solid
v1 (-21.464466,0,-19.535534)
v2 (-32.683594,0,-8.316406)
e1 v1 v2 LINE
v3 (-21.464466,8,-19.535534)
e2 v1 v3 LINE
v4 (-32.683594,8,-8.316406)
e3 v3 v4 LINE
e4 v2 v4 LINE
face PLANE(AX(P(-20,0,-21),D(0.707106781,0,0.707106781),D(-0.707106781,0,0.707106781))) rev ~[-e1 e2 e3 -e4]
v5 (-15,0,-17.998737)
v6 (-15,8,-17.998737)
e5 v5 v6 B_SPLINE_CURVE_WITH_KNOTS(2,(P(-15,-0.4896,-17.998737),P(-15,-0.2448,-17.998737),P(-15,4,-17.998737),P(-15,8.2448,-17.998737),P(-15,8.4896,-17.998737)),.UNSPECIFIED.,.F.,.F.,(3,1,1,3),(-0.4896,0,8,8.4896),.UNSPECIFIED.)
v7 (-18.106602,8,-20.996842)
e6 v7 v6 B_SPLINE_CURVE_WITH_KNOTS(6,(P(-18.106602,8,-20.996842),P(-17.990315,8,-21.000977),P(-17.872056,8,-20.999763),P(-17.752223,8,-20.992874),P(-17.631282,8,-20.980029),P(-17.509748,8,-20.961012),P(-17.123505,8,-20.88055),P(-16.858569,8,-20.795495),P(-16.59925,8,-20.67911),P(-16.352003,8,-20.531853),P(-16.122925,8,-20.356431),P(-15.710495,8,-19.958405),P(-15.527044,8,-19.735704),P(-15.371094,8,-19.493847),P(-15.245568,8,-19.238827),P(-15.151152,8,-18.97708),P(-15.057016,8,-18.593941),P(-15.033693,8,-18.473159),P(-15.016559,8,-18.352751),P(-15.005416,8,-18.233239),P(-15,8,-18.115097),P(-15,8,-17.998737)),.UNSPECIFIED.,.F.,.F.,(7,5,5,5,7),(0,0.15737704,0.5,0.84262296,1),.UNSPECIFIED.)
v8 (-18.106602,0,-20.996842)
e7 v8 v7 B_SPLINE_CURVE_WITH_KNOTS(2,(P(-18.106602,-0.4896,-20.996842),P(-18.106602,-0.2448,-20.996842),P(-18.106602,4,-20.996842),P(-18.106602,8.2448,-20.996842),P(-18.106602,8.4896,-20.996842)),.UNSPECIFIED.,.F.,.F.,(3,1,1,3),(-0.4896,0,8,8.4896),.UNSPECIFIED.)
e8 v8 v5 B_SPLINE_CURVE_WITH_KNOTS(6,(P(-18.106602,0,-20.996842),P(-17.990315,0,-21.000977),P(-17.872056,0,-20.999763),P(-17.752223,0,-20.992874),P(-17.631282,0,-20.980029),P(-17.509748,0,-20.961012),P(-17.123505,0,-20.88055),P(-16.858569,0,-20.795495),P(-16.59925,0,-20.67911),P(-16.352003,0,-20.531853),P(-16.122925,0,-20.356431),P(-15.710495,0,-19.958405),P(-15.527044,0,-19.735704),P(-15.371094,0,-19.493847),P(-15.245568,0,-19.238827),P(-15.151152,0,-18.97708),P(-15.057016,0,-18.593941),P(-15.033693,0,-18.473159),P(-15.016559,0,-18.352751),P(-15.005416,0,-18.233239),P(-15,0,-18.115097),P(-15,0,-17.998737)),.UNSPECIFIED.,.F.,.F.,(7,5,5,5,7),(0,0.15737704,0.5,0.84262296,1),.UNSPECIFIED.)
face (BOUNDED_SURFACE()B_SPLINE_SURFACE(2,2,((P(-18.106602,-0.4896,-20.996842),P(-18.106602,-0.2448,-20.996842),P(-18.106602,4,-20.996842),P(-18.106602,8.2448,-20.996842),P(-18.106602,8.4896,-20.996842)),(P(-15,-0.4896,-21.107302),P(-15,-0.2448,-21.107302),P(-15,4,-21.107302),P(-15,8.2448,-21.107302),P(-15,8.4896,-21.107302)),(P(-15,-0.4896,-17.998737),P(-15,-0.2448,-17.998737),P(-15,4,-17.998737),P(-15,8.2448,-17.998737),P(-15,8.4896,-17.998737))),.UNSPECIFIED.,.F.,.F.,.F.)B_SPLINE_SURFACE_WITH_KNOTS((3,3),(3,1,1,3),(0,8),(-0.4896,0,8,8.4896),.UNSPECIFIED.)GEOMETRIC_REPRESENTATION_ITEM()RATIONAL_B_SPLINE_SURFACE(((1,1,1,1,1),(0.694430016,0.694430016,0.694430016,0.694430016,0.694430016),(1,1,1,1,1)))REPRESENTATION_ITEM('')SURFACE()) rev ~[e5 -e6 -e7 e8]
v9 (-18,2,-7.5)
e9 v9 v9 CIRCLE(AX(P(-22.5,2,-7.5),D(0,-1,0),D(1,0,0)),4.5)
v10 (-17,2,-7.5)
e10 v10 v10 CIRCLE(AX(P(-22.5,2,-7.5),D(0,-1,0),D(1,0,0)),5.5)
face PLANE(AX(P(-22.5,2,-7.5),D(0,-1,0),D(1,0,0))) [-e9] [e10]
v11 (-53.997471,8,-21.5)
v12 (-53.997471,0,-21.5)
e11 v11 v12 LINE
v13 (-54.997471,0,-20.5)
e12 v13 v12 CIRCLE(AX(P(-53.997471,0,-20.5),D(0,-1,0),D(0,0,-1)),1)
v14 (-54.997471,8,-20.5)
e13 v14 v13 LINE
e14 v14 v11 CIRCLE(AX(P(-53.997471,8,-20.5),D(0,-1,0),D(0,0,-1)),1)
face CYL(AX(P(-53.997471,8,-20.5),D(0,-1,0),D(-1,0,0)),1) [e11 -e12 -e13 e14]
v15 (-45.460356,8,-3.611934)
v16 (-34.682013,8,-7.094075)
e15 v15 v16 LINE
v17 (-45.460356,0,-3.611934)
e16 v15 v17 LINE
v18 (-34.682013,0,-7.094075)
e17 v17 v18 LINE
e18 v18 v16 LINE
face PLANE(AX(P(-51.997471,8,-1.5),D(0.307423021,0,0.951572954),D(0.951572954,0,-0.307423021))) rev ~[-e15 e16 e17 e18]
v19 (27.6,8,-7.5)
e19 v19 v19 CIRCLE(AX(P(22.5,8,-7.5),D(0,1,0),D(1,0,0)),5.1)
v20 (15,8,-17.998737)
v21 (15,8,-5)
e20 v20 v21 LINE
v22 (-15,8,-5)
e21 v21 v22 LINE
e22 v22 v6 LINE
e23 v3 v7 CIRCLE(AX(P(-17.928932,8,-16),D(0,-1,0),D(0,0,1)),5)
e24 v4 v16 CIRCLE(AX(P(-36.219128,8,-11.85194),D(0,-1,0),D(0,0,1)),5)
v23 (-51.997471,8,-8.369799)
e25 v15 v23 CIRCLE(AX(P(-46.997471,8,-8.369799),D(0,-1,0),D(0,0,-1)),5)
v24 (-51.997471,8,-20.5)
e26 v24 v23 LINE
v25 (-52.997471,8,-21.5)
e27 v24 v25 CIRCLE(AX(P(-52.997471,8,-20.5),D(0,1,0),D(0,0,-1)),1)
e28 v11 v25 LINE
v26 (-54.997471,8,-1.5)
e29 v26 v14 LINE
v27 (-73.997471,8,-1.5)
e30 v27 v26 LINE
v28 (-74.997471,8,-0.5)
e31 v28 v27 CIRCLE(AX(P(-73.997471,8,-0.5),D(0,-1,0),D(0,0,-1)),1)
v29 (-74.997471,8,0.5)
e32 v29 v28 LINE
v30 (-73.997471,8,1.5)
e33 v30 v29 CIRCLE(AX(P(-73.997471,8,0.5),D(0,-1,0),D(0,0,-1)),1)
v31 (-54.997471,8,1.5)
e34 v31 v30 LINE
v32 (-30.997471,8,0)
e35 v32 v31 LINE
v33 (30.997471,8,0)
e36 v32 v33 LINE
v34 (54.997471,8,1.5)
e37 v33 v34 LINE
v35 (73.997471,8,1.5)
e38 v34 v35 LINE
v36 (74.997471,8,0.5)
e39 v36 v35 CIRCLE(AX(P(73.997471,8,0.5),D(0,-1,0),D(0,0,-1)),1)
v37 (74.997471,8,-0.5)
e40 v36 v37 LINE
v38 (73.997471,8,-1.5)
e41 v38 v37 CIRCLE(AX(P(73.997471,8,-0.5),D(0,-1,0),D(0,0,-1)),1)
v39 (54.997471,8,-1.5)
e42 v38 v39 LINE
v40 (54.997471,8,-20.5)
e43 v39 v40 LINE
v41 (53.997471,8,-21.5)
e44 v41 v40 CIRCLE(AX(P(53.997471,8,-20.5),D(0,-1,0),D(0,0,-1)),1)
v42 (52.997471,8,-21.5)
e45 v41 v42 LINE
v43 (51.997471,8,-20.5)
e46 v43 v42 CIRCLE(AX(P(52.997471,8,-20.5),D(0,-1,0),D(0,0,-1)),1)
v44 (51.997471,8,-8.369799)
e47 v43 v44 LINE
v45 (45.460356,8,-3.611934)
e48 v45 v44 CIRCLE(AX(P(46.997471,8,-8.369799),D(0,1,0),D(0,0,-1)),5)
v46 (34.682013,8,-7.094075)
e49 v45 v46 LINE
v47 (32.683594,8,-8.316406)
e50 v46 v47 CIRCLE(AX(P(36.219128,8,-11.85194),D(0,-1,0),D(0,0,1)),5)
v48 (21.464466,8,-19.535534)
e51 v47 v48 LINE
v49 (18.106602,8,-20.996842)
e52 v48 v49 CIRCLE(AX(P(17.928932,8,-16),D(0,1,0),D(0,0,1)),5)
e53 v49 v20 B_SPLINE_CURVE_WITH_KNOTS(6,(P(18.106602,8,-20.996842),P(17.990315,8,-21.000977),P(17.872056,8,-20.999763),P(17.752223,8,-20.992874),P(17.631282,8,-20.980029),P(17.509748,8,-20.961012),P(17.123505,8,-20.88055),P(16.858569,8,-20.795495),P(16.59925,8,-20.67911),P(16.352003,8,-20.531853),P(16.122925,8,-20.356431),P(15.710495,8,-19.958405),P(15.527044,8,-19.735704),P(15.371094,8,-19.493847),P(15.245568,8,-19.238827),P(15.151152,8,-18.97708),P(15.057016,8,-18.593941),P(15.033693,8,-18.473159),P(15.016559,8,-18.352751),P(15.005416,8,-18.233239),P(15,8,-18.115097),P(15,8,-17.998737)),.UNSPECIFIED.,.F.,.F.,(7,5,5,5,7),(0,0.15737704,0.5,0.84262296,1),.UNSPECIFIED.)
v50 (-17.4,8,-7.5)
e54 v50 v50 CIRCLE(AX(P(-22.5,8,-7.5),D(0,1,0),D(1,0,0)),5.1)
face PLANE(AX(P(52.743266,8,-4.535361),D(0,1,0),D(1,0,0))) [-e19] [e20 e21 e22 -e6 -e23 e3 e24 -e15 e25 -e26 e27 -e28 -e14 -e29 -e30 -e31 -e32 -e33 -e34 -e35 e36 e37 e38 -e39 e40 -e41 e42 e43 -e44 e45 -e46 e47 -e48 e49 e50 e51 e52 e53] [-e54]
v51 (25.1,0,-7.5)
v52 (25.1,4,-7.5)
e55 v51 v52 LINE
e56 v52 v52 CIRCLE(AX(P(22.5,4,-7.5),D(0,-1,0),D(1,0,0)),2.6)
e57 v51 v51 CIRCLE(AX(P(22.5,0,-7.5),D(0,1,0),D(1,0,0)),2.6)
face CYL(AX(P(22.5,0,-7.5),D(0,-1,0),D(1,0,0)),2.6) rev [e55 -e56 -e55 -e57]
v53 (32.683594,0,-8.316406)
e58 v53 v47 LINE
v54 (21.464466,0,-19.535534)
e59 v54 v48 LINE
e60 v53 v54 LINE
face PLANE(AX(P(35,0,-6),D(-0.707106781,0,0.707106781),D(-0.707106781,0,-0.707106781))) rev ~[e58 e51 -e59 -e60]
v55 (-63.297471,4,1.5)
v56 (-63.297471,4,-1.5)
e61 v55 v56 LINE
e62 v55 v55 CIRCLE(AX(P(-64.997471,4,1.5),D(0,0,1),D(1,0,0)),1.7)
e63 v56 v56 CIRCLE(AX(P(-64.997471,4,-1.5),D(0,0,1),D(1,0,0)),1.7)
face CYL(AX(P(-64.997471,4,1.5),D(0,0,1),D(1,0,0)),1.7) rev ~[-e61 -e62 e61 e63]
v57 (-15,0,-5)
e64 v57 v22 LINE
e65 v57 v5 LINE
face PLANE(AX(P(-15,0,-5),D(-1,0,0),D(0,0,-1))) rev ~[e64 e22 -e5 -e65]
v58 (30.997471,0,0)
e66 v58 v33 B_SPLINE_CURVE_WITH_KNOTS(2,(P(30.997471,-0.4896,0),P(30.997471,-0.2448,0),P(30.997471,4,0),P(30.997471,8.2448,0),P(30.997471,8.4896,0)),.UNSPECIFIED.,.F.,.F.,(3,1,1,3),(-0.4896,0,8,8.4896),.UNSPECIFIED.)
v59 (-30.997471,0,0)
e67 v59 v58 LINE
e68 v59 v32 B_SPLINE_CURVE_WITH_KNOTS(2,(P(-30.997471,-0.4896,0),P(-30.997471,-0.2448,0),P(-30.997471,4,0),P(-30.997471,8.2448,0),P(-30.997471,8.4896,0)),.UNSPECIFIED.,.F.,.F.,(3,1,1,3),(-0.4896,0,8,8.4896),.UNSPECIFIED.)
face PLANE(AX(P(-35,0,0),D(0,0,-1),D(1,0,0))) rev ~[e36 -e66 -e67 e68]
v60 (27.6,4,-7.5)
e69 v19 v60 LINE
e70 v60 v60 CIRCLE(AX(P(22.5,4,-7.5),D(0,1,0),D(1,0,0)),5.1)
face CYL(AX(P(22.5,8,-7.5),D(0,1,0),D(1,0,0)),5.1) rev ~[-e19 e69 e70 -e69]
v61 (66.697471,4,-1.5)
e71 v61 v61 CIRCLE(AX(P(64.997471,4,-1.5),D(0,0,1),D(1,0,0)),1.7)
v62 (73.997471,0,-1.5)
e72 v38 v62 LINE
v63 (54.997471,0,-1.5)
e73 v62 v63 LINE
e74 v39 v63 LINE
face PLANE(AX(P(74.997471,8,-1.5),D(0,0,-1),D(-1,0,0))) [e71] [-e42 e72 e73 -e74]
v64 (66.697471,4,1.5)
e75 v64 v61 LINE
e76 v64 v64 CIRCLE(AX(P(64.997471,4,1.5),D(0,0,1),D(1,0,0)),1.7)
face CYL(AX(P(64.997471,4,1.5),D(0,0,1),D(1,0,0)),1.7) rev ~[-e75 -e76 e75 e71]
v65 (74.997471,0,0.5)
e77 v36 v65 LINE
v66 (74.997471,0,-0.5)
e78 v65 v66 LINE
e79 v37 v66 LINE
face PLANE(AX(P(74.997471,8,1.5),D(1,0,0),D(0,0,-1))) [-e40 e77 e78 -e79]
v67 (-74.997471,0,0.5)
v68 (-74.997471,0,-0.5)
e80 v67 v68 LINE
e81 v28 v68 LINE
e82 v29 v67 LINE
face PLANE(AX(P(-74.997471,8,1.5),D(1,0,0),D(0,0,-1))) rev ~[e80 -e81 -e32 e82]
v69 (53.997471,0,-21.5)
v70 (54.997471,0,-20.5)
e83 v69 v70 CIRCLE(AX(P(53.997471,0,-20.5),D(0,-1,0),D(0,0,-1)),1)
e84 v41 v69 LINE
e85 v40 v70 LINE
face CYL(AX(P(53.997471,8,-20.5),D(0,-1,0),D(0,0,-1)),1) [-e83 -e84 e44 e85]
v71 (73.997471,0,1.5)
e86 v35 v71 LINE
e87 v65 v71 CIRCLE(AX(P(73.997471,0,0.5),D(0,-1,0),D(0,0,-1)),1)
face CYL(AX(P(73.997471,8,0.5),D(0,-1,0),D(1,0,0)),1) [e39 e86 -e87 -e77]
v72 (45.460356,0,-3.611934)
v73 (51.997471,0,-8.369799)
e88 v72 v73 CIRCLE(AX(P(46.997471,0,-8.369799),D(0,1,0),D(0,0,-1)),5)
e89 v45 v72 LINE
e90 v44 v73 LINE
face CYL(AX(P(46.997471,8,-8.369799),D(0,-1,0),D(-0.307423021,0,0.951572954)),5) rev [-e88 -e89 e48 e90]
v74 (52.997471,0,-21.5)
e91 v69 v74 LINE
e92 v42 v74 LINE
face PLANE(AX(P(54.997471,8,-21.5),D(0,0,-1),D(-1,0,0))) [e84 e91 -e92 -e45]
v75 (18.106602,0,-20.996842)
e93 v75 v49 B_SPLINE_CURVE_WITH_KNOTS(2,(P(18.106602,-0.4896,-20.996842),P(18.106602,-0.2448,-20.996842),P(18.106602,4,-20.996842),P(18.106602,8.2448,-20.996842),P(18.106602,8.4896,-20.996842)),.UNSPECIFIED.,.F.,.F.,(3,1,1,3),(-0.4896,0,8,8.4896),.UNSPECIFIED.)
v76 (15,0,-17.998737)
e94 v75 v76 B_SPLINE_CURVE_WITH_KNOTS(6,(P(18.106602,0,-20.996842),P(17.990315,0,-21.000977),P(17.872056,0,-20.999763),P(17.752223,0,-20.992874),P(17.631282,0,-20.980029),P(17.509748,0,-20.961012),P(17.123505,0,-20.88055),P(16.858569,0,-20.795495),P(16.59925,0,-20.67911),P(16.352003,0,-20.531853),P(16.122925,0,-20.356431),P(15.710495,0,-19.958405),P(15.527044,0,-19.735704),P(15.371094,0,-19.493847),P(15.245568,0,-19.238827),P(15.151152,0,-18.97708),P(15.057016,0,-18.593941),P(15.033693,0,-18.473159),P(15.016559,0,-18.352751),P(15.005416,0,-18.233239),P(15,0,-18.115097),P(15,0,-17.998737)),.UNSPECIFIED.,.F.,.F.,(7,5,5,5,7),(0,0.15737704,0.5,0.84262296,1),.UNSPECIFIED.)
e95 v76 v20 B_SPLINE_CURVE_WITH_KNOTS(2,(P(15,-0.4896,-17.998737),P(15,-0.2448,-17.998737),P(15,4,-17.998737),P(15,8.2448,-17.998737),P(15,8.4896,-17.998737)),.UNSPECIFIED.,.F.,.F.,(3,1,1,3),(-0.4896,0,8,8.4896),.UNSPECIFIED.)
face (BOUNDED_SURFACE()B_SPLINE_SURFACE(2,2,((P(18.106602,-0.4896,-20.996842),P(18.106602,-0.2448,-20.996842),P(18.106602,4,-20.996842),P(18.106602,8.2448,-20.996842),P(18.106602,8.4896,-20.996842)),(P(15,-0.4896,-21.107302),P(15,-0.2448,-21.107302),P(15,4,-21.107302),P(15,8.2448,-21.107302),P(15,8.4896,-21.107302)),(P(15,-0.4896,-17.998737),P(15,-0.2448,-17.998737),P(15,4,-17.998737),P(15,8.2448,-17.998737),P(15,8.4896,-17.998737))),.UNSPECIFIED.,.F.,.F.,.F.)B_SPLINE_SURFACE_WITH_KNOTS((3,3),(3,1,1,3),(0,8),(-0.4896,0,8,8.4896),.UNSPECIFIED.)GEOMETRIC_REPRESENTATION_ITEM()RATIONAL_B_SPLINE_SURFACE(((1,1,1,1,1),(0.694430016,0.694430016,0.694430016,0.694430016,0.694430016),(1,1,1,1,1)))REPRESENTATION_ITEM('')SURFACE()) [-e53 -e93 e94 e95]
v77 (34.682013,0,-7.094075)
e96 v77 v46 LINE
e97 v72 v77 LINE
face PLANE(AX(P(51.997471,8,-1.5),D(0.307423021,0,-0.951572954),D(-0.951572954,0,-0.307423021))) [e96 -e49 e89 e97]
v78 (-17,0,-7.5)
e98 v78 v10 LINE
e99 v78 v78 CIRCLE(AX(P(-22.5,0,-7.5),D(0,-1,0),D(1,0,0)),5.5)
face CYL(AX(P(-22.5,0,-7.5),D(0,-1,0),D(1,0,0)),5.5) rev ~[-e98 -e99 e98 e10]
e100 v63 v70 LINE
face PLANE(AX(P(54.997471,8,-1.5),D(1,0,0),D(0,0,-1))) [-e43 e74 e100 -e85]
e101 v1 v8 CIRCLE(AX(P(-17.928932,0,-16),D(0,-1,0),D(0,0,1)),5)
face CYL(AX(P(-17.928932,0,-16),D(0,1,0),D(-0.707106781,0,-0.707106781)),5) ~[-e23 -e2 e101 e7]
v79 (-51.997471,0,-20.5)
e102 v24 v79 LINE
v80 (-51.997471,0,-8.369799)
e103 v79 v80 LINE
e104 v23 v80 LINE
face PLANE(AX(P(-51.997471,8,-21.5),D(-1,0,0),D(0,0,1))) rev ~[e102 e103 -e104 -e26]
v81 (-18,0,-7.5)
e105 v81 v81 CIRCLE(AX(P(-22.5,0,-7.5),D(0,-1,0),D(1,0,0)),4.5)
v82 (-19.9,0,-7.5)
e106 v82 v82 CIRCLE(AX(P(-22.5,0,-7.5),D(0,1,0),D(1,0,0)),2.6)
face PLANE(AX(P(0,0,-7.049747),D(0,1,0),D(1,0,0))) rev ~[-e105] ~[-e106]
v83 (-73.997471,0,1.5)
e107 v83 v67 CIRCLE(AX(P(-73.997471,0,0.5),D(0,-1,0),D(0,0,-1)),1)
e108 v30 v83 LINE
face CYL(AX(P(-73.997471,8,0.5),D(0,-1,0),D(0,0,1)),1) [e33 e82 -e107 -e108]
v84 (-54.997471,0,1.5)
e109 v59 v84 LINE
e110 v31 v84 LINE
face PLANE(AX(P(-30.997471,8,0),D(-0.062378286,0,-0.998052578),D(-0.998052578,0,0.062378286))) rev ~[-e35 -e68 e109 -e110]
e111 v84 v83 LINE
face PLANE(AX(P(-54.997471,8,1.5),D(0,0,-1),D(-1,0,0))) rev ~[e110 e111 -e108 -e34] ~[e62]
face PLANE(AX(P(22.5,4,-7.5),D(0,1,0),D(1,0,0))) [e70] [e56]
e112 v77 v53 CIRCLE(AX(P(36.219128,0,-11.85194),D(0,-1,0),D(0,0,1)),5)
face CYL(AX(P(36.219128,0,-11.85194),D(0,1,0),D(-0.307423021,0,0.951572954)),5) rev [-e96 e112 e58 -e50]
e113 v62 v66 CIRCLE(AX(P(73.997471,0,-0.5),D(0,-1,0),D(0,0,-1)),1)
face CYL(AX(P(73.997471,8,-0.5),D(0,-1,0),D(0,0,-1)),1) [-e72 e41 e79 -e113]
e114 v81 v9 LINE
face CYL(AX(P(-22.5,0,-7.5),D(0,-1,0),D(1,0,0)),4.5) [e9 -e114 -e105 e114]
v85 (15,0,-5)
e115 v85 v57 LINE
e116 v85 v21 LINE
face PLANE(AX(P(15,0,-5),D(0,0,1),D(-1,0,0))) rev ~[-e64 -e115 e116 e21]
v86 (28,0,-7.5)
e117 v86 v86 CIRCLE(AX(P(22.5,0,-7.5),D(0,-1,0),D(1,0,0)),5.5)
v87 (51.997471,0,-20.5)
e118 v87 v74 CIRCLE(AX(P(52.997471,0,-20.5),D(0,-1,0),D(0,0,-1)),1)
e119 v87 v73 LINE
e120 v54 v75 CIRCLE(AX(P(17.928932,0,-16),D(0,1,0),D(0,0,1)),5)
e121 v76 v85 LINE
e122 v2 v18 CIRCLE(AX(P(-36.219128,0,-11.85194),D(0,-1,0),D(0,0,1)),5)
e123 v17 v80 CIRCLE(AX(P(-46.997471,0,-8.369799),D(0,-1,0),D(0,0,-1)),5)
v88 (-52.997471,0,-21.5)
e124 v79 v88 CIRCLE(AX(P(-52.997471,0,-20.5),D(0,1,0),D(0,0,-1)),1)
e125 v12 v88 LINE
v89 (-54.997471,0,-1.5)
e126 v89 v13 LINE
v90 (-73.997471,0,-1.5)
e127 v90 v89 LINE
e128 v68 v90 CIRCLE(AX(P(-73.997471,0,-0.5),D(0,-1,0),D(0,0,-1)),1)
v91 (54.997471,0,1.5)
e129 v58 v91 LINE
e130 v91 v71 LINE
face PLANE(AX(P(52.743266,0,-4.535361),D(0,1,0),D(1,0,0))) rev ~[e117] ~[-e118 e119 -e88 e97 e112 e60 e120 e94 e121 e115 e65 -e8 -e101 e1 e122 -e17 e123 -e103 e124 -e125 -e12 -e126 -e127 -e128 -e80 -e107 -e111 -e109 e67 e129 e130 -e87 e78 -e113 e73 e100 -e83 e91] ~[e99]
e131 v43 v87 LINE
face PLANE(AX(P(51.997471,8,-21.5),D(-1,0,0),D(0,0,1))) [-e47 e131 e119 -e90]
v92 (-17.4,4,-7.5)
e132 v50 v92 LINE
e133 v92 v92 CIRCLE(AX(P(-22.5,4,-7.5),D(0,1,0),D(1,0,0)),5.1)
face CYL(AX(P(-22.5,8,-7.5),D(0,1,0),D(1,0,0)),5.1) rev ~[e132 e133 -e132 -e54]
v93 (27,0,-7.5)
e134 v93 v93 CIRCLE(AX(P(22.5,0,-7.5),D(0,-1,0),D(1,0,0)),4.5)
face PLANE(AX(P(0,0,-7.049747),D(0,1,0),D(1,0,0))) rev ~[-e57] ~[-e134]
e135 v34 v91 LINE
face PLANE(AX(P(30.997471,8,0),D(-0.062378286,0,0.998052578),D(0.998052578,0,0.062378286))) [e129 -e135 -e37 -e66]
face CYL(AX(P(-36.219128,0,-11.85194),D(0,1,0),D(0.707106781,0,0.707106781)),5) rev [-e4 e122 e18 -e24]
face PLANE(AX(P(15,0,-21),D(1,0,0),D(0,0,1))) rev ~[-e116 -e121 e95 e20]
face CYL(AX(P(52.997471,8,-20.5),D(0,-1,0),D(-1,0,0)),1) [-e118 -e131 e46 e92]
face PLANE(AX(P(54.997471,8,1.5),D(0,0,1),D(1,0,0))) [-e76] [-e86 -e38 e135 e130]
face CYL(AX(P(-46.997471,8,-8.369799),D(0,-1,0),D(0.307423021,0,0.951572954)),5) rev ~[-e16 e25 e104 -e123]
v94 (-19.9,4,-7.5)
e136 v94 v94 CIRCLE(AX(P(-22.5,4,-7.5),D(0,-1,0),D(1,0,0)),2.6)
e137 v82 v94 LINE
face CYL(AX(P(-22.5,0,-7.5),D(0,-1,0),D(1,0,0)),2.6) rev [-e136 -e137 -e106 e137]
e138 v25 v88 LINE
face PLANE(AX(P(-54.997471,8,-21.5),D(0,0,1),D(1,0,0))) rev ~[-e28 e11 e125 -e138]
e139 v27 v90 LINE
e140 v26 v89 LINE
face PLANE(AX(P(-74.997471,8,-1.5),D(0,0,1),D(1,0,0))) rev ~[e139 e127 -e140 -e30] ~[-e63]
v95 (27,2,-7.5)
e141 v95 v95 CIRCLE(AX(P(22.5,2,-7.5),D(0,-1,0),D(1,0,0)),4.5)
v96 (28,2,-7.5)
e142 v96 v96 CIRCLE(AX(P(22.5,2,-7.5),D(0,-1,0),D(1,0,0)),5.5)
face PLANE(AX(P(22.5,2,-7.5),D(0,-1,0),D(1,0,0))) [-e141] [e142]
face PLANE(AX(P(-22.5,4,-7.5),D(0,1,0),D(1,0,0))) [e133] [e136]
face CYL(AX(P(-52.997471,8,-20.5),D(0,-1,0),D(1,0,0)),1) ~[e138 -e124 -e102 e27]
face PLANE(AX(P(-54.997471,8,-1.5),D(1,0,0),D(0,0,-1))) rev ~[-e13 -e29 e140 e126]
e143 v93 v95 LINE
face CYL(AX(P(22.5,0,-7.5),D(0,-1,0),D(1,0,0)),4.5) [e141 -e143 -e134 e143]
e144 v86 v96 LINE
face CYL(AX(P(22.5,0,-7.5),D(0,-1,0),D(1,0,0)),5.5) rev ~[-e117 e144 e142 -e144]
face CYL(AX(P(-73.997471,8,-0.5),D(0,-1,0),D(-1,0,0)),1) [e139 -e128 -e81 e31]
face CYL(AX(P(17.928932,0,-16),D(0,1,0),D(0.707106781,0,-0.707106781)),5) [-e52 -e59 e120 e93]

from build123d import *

# Parameters (mm, degrees)
ESQUISSE1_R             = 2.6
BOSS_EXTRU_1_DEPTH      = 8
ESQUISSE3_R             = 5.1
ENL_V_MAT_EXTRU_2_DEPTH = 4
ESQUISSE4_R             = 5.5
ESQUISSE4_R_2           = 4.5
ENL_V_MAT_EXTRU_3_DEPTH = 2
CONG_1_R                = 5
CONG_2_R                = 3
CONG_3_R                = 4
BOSS_EXTRU_2_DEPTH      = 8
CONG_4_R                = 5
ENL_V_MAT_EXTRU_4_REACH = 25
ESQUISSE6_R             = 1.7
CONG_5_R                = 1


with BuildPart() as part:
    # Esquisse1 → Boss.-Extru.1 (new body)
    with BuildSketch(Plane(origin=(0, 0, 0), x_dir=(1, 0, 0), z_dir=(0, 1, 0))):
        Polygon((-35, 0), (35, 0), (35, 6), (20, 21), (15, 21), (15, 5), (-15, 5), (-15, 21), (-20, 21), (-35, 6), align=None)
        with Locations((22.5, 7.5)):
            Circle(ESQUISSE1_R, mode=Mode.SUBTRACT)
        with Locations((-22.5, 7.5)):
            Circle(ESQUISSE1_R, mode=Mode.SUBTRACT)
    extrude(amount=BOSS_EXTRU_1_DEPTH)

    # Esquisse3 → Enlèv. mat.-Extru.2 (cut)
    with BuildSketch(Plane(origin=(0, 8, 0), x_dir=(1, 0, 0), z_dir=(0, 1, 0))):
        with Locations((-22.5, 7.5)):
            Circle(ESQUISSE3_R)
        with Locations((22.5, 7.5)):
            Circle(ESQUISSE3_R)
    extrude(amount=-ENL_V_MAT_EXTRU_2_DEPTH, mode=Mode.SUBTRACT)

    # Esquisse4 → Enlèv. mat.-Extru.3 (cut)
    with BuildSketch(Plane.XZ):
        with Locations((-22.5, -7.5)):
            Circle(ESQUISSE4_R)
        with Locations((-22.5, -7.5)):
            Circle(ESQUISSE4_R_2, mode=Mode.SUBTRACT)
        with Locations((22.5, -7.5)):
            Circle(ESQUISSE4_R)
        with Locations((22.5, -7.5)):
            Circle(ESQUISSE4_R_2, mode=Mode.SUBTRACT)
    extrude(amount=-ENL_V_MAT_EXTRU_3_DEPTH, mode=Mode.SUBTRACT)

    # Congé1
    cong_1_edges = [part.edges().sort_by_distance(p)[0] for p in [
        (-35, 4, -6),
        (-20, 4, -21),
        (20, 4, -21),
        (35, 4, -6),
    ]]
    fillet(cong_1_edges, radius=CONG_1_R)

    # Congé2
    cong_2_edges = [part.edges().sort_by_distance(p)[0] for p in [
        (-15, 4, -21),
        (15, 4, -21),
    ]]
    fillet(cong_2_edges, radius=CONG_2_R)

    # Congé3
    cong_3_edges = [part.edges().sort_by_distance(p)[0] for p in [
        (-35, 4, 0),
        (35, 4, 0),
    ]]
    fillet(cong_3_edges, radius=CONG_3_R)

    # Esquisse5 → Boss.-Extru.2 (add)
    with BuildSketch(Plane(origin=(0, 8, 0), x_dir=(1, 0, 0), z_dir=(0, 1, 0))):
        Polygon((30.997471486, 0), (54.997471486, -1.5), (74.997471486, -1.5), (74.997471486, 1.5), (54.997471486, 1.5), (54.997471486, 21.5), (51.997471486, 21.5), (51.997471486, 1.5), (33.535533906, 7.464466094), align=None)
        Polygon((-33.535533906, 7.464466094), (-30.997471486, 0), (-54.997471486, -1.5), (-74.997471486, -1.5), (-74.997471486, 1.5), (-54.997471486, 1.5), (-54.997471486, 21.5), (-51.997471486, 21.5), (-51.997471486, 1.5), align=None)
    extrude(amount=-BOSS_EXTRU_2_DEPTH)

    # Congé4
    cong_4_edges = [part.edges().sort_by_distance(p)[0] for p in [
        (51.997471486, 4, -1.5),
        (-51.997471486, 4, -1.5),
        (-33.535533906, 4, -7.464466094),
        (33.535533906, 4, -7.464466094),
    ]]
    fillet(cong_4_edges, radius=CONG_4_R)

    # Esquisse6 → Enlèv. mat.-Extru.4 (cut, up to next)
    with BuildSketch(Plane.XY.offset(1.5), mode=Mode.PRIVATE) as enl_v_mat_extru_4_sk1:
        with Locations((64.997471486, 4)):
            Circle(ESQUISSE6_R)
    enl_v_mat_extru_4_tool1 = extrude(enl_v_mat_extru_4_sk1.sketch, amount=-ENL_V_MAT_EXTRU_4_REACH, mode=Mode.PRIVATE) & part.part
    add(enl_v_mat_extru_4_tool1.solids().sort_by_distance((64.997471, 4, 1.5))[0], mode=Mode.SUBTRACT)
    # Esquisse6 → Enlèv. mat.-Extru.4 (cut, up to next)
    with BuildSketch(Plane.XY.offset(1.5), mode=Mode.PRIVATE) as enl_v_mat_extru_4_sk2:
        with Locations((-64.997471486, 4)):
            Circle(ESQUISSE6_R)
    enl_v_mat_extru_4_tool2 = extrude(enl_v_mat_extru_4_sk2.sketch, amount=-ENL_V_MAT_EXTRU_4_REACH, mode=Mode.PRIVATE) & part.part
    add(enl_v_mat_extru_4_tool2.solids().sort_by_distance((-64.997471, 4, 1.5))[0], mode=Mode.SUBTRACT)

    # Congé5
    cong_5_edges = [part.edges().sort_by_distance(p)[0] for p in [
        (51.997471486, 4, -21.5),
        (54.997471486, 4, -21.5),
        (74.997471486, 4, -1.5),
        (74.997471486, 4, 1.5),
        (-74.997471486, 4, 1.5),
        (-74.997471486, 4, -1.5),
        (-54.997471486, 4, -21.5),
        (-51.997471486, 4, -21.5),
    ]]
    fillet(cong_5_edges, radius=CONG_5_R)


solid = part.part
